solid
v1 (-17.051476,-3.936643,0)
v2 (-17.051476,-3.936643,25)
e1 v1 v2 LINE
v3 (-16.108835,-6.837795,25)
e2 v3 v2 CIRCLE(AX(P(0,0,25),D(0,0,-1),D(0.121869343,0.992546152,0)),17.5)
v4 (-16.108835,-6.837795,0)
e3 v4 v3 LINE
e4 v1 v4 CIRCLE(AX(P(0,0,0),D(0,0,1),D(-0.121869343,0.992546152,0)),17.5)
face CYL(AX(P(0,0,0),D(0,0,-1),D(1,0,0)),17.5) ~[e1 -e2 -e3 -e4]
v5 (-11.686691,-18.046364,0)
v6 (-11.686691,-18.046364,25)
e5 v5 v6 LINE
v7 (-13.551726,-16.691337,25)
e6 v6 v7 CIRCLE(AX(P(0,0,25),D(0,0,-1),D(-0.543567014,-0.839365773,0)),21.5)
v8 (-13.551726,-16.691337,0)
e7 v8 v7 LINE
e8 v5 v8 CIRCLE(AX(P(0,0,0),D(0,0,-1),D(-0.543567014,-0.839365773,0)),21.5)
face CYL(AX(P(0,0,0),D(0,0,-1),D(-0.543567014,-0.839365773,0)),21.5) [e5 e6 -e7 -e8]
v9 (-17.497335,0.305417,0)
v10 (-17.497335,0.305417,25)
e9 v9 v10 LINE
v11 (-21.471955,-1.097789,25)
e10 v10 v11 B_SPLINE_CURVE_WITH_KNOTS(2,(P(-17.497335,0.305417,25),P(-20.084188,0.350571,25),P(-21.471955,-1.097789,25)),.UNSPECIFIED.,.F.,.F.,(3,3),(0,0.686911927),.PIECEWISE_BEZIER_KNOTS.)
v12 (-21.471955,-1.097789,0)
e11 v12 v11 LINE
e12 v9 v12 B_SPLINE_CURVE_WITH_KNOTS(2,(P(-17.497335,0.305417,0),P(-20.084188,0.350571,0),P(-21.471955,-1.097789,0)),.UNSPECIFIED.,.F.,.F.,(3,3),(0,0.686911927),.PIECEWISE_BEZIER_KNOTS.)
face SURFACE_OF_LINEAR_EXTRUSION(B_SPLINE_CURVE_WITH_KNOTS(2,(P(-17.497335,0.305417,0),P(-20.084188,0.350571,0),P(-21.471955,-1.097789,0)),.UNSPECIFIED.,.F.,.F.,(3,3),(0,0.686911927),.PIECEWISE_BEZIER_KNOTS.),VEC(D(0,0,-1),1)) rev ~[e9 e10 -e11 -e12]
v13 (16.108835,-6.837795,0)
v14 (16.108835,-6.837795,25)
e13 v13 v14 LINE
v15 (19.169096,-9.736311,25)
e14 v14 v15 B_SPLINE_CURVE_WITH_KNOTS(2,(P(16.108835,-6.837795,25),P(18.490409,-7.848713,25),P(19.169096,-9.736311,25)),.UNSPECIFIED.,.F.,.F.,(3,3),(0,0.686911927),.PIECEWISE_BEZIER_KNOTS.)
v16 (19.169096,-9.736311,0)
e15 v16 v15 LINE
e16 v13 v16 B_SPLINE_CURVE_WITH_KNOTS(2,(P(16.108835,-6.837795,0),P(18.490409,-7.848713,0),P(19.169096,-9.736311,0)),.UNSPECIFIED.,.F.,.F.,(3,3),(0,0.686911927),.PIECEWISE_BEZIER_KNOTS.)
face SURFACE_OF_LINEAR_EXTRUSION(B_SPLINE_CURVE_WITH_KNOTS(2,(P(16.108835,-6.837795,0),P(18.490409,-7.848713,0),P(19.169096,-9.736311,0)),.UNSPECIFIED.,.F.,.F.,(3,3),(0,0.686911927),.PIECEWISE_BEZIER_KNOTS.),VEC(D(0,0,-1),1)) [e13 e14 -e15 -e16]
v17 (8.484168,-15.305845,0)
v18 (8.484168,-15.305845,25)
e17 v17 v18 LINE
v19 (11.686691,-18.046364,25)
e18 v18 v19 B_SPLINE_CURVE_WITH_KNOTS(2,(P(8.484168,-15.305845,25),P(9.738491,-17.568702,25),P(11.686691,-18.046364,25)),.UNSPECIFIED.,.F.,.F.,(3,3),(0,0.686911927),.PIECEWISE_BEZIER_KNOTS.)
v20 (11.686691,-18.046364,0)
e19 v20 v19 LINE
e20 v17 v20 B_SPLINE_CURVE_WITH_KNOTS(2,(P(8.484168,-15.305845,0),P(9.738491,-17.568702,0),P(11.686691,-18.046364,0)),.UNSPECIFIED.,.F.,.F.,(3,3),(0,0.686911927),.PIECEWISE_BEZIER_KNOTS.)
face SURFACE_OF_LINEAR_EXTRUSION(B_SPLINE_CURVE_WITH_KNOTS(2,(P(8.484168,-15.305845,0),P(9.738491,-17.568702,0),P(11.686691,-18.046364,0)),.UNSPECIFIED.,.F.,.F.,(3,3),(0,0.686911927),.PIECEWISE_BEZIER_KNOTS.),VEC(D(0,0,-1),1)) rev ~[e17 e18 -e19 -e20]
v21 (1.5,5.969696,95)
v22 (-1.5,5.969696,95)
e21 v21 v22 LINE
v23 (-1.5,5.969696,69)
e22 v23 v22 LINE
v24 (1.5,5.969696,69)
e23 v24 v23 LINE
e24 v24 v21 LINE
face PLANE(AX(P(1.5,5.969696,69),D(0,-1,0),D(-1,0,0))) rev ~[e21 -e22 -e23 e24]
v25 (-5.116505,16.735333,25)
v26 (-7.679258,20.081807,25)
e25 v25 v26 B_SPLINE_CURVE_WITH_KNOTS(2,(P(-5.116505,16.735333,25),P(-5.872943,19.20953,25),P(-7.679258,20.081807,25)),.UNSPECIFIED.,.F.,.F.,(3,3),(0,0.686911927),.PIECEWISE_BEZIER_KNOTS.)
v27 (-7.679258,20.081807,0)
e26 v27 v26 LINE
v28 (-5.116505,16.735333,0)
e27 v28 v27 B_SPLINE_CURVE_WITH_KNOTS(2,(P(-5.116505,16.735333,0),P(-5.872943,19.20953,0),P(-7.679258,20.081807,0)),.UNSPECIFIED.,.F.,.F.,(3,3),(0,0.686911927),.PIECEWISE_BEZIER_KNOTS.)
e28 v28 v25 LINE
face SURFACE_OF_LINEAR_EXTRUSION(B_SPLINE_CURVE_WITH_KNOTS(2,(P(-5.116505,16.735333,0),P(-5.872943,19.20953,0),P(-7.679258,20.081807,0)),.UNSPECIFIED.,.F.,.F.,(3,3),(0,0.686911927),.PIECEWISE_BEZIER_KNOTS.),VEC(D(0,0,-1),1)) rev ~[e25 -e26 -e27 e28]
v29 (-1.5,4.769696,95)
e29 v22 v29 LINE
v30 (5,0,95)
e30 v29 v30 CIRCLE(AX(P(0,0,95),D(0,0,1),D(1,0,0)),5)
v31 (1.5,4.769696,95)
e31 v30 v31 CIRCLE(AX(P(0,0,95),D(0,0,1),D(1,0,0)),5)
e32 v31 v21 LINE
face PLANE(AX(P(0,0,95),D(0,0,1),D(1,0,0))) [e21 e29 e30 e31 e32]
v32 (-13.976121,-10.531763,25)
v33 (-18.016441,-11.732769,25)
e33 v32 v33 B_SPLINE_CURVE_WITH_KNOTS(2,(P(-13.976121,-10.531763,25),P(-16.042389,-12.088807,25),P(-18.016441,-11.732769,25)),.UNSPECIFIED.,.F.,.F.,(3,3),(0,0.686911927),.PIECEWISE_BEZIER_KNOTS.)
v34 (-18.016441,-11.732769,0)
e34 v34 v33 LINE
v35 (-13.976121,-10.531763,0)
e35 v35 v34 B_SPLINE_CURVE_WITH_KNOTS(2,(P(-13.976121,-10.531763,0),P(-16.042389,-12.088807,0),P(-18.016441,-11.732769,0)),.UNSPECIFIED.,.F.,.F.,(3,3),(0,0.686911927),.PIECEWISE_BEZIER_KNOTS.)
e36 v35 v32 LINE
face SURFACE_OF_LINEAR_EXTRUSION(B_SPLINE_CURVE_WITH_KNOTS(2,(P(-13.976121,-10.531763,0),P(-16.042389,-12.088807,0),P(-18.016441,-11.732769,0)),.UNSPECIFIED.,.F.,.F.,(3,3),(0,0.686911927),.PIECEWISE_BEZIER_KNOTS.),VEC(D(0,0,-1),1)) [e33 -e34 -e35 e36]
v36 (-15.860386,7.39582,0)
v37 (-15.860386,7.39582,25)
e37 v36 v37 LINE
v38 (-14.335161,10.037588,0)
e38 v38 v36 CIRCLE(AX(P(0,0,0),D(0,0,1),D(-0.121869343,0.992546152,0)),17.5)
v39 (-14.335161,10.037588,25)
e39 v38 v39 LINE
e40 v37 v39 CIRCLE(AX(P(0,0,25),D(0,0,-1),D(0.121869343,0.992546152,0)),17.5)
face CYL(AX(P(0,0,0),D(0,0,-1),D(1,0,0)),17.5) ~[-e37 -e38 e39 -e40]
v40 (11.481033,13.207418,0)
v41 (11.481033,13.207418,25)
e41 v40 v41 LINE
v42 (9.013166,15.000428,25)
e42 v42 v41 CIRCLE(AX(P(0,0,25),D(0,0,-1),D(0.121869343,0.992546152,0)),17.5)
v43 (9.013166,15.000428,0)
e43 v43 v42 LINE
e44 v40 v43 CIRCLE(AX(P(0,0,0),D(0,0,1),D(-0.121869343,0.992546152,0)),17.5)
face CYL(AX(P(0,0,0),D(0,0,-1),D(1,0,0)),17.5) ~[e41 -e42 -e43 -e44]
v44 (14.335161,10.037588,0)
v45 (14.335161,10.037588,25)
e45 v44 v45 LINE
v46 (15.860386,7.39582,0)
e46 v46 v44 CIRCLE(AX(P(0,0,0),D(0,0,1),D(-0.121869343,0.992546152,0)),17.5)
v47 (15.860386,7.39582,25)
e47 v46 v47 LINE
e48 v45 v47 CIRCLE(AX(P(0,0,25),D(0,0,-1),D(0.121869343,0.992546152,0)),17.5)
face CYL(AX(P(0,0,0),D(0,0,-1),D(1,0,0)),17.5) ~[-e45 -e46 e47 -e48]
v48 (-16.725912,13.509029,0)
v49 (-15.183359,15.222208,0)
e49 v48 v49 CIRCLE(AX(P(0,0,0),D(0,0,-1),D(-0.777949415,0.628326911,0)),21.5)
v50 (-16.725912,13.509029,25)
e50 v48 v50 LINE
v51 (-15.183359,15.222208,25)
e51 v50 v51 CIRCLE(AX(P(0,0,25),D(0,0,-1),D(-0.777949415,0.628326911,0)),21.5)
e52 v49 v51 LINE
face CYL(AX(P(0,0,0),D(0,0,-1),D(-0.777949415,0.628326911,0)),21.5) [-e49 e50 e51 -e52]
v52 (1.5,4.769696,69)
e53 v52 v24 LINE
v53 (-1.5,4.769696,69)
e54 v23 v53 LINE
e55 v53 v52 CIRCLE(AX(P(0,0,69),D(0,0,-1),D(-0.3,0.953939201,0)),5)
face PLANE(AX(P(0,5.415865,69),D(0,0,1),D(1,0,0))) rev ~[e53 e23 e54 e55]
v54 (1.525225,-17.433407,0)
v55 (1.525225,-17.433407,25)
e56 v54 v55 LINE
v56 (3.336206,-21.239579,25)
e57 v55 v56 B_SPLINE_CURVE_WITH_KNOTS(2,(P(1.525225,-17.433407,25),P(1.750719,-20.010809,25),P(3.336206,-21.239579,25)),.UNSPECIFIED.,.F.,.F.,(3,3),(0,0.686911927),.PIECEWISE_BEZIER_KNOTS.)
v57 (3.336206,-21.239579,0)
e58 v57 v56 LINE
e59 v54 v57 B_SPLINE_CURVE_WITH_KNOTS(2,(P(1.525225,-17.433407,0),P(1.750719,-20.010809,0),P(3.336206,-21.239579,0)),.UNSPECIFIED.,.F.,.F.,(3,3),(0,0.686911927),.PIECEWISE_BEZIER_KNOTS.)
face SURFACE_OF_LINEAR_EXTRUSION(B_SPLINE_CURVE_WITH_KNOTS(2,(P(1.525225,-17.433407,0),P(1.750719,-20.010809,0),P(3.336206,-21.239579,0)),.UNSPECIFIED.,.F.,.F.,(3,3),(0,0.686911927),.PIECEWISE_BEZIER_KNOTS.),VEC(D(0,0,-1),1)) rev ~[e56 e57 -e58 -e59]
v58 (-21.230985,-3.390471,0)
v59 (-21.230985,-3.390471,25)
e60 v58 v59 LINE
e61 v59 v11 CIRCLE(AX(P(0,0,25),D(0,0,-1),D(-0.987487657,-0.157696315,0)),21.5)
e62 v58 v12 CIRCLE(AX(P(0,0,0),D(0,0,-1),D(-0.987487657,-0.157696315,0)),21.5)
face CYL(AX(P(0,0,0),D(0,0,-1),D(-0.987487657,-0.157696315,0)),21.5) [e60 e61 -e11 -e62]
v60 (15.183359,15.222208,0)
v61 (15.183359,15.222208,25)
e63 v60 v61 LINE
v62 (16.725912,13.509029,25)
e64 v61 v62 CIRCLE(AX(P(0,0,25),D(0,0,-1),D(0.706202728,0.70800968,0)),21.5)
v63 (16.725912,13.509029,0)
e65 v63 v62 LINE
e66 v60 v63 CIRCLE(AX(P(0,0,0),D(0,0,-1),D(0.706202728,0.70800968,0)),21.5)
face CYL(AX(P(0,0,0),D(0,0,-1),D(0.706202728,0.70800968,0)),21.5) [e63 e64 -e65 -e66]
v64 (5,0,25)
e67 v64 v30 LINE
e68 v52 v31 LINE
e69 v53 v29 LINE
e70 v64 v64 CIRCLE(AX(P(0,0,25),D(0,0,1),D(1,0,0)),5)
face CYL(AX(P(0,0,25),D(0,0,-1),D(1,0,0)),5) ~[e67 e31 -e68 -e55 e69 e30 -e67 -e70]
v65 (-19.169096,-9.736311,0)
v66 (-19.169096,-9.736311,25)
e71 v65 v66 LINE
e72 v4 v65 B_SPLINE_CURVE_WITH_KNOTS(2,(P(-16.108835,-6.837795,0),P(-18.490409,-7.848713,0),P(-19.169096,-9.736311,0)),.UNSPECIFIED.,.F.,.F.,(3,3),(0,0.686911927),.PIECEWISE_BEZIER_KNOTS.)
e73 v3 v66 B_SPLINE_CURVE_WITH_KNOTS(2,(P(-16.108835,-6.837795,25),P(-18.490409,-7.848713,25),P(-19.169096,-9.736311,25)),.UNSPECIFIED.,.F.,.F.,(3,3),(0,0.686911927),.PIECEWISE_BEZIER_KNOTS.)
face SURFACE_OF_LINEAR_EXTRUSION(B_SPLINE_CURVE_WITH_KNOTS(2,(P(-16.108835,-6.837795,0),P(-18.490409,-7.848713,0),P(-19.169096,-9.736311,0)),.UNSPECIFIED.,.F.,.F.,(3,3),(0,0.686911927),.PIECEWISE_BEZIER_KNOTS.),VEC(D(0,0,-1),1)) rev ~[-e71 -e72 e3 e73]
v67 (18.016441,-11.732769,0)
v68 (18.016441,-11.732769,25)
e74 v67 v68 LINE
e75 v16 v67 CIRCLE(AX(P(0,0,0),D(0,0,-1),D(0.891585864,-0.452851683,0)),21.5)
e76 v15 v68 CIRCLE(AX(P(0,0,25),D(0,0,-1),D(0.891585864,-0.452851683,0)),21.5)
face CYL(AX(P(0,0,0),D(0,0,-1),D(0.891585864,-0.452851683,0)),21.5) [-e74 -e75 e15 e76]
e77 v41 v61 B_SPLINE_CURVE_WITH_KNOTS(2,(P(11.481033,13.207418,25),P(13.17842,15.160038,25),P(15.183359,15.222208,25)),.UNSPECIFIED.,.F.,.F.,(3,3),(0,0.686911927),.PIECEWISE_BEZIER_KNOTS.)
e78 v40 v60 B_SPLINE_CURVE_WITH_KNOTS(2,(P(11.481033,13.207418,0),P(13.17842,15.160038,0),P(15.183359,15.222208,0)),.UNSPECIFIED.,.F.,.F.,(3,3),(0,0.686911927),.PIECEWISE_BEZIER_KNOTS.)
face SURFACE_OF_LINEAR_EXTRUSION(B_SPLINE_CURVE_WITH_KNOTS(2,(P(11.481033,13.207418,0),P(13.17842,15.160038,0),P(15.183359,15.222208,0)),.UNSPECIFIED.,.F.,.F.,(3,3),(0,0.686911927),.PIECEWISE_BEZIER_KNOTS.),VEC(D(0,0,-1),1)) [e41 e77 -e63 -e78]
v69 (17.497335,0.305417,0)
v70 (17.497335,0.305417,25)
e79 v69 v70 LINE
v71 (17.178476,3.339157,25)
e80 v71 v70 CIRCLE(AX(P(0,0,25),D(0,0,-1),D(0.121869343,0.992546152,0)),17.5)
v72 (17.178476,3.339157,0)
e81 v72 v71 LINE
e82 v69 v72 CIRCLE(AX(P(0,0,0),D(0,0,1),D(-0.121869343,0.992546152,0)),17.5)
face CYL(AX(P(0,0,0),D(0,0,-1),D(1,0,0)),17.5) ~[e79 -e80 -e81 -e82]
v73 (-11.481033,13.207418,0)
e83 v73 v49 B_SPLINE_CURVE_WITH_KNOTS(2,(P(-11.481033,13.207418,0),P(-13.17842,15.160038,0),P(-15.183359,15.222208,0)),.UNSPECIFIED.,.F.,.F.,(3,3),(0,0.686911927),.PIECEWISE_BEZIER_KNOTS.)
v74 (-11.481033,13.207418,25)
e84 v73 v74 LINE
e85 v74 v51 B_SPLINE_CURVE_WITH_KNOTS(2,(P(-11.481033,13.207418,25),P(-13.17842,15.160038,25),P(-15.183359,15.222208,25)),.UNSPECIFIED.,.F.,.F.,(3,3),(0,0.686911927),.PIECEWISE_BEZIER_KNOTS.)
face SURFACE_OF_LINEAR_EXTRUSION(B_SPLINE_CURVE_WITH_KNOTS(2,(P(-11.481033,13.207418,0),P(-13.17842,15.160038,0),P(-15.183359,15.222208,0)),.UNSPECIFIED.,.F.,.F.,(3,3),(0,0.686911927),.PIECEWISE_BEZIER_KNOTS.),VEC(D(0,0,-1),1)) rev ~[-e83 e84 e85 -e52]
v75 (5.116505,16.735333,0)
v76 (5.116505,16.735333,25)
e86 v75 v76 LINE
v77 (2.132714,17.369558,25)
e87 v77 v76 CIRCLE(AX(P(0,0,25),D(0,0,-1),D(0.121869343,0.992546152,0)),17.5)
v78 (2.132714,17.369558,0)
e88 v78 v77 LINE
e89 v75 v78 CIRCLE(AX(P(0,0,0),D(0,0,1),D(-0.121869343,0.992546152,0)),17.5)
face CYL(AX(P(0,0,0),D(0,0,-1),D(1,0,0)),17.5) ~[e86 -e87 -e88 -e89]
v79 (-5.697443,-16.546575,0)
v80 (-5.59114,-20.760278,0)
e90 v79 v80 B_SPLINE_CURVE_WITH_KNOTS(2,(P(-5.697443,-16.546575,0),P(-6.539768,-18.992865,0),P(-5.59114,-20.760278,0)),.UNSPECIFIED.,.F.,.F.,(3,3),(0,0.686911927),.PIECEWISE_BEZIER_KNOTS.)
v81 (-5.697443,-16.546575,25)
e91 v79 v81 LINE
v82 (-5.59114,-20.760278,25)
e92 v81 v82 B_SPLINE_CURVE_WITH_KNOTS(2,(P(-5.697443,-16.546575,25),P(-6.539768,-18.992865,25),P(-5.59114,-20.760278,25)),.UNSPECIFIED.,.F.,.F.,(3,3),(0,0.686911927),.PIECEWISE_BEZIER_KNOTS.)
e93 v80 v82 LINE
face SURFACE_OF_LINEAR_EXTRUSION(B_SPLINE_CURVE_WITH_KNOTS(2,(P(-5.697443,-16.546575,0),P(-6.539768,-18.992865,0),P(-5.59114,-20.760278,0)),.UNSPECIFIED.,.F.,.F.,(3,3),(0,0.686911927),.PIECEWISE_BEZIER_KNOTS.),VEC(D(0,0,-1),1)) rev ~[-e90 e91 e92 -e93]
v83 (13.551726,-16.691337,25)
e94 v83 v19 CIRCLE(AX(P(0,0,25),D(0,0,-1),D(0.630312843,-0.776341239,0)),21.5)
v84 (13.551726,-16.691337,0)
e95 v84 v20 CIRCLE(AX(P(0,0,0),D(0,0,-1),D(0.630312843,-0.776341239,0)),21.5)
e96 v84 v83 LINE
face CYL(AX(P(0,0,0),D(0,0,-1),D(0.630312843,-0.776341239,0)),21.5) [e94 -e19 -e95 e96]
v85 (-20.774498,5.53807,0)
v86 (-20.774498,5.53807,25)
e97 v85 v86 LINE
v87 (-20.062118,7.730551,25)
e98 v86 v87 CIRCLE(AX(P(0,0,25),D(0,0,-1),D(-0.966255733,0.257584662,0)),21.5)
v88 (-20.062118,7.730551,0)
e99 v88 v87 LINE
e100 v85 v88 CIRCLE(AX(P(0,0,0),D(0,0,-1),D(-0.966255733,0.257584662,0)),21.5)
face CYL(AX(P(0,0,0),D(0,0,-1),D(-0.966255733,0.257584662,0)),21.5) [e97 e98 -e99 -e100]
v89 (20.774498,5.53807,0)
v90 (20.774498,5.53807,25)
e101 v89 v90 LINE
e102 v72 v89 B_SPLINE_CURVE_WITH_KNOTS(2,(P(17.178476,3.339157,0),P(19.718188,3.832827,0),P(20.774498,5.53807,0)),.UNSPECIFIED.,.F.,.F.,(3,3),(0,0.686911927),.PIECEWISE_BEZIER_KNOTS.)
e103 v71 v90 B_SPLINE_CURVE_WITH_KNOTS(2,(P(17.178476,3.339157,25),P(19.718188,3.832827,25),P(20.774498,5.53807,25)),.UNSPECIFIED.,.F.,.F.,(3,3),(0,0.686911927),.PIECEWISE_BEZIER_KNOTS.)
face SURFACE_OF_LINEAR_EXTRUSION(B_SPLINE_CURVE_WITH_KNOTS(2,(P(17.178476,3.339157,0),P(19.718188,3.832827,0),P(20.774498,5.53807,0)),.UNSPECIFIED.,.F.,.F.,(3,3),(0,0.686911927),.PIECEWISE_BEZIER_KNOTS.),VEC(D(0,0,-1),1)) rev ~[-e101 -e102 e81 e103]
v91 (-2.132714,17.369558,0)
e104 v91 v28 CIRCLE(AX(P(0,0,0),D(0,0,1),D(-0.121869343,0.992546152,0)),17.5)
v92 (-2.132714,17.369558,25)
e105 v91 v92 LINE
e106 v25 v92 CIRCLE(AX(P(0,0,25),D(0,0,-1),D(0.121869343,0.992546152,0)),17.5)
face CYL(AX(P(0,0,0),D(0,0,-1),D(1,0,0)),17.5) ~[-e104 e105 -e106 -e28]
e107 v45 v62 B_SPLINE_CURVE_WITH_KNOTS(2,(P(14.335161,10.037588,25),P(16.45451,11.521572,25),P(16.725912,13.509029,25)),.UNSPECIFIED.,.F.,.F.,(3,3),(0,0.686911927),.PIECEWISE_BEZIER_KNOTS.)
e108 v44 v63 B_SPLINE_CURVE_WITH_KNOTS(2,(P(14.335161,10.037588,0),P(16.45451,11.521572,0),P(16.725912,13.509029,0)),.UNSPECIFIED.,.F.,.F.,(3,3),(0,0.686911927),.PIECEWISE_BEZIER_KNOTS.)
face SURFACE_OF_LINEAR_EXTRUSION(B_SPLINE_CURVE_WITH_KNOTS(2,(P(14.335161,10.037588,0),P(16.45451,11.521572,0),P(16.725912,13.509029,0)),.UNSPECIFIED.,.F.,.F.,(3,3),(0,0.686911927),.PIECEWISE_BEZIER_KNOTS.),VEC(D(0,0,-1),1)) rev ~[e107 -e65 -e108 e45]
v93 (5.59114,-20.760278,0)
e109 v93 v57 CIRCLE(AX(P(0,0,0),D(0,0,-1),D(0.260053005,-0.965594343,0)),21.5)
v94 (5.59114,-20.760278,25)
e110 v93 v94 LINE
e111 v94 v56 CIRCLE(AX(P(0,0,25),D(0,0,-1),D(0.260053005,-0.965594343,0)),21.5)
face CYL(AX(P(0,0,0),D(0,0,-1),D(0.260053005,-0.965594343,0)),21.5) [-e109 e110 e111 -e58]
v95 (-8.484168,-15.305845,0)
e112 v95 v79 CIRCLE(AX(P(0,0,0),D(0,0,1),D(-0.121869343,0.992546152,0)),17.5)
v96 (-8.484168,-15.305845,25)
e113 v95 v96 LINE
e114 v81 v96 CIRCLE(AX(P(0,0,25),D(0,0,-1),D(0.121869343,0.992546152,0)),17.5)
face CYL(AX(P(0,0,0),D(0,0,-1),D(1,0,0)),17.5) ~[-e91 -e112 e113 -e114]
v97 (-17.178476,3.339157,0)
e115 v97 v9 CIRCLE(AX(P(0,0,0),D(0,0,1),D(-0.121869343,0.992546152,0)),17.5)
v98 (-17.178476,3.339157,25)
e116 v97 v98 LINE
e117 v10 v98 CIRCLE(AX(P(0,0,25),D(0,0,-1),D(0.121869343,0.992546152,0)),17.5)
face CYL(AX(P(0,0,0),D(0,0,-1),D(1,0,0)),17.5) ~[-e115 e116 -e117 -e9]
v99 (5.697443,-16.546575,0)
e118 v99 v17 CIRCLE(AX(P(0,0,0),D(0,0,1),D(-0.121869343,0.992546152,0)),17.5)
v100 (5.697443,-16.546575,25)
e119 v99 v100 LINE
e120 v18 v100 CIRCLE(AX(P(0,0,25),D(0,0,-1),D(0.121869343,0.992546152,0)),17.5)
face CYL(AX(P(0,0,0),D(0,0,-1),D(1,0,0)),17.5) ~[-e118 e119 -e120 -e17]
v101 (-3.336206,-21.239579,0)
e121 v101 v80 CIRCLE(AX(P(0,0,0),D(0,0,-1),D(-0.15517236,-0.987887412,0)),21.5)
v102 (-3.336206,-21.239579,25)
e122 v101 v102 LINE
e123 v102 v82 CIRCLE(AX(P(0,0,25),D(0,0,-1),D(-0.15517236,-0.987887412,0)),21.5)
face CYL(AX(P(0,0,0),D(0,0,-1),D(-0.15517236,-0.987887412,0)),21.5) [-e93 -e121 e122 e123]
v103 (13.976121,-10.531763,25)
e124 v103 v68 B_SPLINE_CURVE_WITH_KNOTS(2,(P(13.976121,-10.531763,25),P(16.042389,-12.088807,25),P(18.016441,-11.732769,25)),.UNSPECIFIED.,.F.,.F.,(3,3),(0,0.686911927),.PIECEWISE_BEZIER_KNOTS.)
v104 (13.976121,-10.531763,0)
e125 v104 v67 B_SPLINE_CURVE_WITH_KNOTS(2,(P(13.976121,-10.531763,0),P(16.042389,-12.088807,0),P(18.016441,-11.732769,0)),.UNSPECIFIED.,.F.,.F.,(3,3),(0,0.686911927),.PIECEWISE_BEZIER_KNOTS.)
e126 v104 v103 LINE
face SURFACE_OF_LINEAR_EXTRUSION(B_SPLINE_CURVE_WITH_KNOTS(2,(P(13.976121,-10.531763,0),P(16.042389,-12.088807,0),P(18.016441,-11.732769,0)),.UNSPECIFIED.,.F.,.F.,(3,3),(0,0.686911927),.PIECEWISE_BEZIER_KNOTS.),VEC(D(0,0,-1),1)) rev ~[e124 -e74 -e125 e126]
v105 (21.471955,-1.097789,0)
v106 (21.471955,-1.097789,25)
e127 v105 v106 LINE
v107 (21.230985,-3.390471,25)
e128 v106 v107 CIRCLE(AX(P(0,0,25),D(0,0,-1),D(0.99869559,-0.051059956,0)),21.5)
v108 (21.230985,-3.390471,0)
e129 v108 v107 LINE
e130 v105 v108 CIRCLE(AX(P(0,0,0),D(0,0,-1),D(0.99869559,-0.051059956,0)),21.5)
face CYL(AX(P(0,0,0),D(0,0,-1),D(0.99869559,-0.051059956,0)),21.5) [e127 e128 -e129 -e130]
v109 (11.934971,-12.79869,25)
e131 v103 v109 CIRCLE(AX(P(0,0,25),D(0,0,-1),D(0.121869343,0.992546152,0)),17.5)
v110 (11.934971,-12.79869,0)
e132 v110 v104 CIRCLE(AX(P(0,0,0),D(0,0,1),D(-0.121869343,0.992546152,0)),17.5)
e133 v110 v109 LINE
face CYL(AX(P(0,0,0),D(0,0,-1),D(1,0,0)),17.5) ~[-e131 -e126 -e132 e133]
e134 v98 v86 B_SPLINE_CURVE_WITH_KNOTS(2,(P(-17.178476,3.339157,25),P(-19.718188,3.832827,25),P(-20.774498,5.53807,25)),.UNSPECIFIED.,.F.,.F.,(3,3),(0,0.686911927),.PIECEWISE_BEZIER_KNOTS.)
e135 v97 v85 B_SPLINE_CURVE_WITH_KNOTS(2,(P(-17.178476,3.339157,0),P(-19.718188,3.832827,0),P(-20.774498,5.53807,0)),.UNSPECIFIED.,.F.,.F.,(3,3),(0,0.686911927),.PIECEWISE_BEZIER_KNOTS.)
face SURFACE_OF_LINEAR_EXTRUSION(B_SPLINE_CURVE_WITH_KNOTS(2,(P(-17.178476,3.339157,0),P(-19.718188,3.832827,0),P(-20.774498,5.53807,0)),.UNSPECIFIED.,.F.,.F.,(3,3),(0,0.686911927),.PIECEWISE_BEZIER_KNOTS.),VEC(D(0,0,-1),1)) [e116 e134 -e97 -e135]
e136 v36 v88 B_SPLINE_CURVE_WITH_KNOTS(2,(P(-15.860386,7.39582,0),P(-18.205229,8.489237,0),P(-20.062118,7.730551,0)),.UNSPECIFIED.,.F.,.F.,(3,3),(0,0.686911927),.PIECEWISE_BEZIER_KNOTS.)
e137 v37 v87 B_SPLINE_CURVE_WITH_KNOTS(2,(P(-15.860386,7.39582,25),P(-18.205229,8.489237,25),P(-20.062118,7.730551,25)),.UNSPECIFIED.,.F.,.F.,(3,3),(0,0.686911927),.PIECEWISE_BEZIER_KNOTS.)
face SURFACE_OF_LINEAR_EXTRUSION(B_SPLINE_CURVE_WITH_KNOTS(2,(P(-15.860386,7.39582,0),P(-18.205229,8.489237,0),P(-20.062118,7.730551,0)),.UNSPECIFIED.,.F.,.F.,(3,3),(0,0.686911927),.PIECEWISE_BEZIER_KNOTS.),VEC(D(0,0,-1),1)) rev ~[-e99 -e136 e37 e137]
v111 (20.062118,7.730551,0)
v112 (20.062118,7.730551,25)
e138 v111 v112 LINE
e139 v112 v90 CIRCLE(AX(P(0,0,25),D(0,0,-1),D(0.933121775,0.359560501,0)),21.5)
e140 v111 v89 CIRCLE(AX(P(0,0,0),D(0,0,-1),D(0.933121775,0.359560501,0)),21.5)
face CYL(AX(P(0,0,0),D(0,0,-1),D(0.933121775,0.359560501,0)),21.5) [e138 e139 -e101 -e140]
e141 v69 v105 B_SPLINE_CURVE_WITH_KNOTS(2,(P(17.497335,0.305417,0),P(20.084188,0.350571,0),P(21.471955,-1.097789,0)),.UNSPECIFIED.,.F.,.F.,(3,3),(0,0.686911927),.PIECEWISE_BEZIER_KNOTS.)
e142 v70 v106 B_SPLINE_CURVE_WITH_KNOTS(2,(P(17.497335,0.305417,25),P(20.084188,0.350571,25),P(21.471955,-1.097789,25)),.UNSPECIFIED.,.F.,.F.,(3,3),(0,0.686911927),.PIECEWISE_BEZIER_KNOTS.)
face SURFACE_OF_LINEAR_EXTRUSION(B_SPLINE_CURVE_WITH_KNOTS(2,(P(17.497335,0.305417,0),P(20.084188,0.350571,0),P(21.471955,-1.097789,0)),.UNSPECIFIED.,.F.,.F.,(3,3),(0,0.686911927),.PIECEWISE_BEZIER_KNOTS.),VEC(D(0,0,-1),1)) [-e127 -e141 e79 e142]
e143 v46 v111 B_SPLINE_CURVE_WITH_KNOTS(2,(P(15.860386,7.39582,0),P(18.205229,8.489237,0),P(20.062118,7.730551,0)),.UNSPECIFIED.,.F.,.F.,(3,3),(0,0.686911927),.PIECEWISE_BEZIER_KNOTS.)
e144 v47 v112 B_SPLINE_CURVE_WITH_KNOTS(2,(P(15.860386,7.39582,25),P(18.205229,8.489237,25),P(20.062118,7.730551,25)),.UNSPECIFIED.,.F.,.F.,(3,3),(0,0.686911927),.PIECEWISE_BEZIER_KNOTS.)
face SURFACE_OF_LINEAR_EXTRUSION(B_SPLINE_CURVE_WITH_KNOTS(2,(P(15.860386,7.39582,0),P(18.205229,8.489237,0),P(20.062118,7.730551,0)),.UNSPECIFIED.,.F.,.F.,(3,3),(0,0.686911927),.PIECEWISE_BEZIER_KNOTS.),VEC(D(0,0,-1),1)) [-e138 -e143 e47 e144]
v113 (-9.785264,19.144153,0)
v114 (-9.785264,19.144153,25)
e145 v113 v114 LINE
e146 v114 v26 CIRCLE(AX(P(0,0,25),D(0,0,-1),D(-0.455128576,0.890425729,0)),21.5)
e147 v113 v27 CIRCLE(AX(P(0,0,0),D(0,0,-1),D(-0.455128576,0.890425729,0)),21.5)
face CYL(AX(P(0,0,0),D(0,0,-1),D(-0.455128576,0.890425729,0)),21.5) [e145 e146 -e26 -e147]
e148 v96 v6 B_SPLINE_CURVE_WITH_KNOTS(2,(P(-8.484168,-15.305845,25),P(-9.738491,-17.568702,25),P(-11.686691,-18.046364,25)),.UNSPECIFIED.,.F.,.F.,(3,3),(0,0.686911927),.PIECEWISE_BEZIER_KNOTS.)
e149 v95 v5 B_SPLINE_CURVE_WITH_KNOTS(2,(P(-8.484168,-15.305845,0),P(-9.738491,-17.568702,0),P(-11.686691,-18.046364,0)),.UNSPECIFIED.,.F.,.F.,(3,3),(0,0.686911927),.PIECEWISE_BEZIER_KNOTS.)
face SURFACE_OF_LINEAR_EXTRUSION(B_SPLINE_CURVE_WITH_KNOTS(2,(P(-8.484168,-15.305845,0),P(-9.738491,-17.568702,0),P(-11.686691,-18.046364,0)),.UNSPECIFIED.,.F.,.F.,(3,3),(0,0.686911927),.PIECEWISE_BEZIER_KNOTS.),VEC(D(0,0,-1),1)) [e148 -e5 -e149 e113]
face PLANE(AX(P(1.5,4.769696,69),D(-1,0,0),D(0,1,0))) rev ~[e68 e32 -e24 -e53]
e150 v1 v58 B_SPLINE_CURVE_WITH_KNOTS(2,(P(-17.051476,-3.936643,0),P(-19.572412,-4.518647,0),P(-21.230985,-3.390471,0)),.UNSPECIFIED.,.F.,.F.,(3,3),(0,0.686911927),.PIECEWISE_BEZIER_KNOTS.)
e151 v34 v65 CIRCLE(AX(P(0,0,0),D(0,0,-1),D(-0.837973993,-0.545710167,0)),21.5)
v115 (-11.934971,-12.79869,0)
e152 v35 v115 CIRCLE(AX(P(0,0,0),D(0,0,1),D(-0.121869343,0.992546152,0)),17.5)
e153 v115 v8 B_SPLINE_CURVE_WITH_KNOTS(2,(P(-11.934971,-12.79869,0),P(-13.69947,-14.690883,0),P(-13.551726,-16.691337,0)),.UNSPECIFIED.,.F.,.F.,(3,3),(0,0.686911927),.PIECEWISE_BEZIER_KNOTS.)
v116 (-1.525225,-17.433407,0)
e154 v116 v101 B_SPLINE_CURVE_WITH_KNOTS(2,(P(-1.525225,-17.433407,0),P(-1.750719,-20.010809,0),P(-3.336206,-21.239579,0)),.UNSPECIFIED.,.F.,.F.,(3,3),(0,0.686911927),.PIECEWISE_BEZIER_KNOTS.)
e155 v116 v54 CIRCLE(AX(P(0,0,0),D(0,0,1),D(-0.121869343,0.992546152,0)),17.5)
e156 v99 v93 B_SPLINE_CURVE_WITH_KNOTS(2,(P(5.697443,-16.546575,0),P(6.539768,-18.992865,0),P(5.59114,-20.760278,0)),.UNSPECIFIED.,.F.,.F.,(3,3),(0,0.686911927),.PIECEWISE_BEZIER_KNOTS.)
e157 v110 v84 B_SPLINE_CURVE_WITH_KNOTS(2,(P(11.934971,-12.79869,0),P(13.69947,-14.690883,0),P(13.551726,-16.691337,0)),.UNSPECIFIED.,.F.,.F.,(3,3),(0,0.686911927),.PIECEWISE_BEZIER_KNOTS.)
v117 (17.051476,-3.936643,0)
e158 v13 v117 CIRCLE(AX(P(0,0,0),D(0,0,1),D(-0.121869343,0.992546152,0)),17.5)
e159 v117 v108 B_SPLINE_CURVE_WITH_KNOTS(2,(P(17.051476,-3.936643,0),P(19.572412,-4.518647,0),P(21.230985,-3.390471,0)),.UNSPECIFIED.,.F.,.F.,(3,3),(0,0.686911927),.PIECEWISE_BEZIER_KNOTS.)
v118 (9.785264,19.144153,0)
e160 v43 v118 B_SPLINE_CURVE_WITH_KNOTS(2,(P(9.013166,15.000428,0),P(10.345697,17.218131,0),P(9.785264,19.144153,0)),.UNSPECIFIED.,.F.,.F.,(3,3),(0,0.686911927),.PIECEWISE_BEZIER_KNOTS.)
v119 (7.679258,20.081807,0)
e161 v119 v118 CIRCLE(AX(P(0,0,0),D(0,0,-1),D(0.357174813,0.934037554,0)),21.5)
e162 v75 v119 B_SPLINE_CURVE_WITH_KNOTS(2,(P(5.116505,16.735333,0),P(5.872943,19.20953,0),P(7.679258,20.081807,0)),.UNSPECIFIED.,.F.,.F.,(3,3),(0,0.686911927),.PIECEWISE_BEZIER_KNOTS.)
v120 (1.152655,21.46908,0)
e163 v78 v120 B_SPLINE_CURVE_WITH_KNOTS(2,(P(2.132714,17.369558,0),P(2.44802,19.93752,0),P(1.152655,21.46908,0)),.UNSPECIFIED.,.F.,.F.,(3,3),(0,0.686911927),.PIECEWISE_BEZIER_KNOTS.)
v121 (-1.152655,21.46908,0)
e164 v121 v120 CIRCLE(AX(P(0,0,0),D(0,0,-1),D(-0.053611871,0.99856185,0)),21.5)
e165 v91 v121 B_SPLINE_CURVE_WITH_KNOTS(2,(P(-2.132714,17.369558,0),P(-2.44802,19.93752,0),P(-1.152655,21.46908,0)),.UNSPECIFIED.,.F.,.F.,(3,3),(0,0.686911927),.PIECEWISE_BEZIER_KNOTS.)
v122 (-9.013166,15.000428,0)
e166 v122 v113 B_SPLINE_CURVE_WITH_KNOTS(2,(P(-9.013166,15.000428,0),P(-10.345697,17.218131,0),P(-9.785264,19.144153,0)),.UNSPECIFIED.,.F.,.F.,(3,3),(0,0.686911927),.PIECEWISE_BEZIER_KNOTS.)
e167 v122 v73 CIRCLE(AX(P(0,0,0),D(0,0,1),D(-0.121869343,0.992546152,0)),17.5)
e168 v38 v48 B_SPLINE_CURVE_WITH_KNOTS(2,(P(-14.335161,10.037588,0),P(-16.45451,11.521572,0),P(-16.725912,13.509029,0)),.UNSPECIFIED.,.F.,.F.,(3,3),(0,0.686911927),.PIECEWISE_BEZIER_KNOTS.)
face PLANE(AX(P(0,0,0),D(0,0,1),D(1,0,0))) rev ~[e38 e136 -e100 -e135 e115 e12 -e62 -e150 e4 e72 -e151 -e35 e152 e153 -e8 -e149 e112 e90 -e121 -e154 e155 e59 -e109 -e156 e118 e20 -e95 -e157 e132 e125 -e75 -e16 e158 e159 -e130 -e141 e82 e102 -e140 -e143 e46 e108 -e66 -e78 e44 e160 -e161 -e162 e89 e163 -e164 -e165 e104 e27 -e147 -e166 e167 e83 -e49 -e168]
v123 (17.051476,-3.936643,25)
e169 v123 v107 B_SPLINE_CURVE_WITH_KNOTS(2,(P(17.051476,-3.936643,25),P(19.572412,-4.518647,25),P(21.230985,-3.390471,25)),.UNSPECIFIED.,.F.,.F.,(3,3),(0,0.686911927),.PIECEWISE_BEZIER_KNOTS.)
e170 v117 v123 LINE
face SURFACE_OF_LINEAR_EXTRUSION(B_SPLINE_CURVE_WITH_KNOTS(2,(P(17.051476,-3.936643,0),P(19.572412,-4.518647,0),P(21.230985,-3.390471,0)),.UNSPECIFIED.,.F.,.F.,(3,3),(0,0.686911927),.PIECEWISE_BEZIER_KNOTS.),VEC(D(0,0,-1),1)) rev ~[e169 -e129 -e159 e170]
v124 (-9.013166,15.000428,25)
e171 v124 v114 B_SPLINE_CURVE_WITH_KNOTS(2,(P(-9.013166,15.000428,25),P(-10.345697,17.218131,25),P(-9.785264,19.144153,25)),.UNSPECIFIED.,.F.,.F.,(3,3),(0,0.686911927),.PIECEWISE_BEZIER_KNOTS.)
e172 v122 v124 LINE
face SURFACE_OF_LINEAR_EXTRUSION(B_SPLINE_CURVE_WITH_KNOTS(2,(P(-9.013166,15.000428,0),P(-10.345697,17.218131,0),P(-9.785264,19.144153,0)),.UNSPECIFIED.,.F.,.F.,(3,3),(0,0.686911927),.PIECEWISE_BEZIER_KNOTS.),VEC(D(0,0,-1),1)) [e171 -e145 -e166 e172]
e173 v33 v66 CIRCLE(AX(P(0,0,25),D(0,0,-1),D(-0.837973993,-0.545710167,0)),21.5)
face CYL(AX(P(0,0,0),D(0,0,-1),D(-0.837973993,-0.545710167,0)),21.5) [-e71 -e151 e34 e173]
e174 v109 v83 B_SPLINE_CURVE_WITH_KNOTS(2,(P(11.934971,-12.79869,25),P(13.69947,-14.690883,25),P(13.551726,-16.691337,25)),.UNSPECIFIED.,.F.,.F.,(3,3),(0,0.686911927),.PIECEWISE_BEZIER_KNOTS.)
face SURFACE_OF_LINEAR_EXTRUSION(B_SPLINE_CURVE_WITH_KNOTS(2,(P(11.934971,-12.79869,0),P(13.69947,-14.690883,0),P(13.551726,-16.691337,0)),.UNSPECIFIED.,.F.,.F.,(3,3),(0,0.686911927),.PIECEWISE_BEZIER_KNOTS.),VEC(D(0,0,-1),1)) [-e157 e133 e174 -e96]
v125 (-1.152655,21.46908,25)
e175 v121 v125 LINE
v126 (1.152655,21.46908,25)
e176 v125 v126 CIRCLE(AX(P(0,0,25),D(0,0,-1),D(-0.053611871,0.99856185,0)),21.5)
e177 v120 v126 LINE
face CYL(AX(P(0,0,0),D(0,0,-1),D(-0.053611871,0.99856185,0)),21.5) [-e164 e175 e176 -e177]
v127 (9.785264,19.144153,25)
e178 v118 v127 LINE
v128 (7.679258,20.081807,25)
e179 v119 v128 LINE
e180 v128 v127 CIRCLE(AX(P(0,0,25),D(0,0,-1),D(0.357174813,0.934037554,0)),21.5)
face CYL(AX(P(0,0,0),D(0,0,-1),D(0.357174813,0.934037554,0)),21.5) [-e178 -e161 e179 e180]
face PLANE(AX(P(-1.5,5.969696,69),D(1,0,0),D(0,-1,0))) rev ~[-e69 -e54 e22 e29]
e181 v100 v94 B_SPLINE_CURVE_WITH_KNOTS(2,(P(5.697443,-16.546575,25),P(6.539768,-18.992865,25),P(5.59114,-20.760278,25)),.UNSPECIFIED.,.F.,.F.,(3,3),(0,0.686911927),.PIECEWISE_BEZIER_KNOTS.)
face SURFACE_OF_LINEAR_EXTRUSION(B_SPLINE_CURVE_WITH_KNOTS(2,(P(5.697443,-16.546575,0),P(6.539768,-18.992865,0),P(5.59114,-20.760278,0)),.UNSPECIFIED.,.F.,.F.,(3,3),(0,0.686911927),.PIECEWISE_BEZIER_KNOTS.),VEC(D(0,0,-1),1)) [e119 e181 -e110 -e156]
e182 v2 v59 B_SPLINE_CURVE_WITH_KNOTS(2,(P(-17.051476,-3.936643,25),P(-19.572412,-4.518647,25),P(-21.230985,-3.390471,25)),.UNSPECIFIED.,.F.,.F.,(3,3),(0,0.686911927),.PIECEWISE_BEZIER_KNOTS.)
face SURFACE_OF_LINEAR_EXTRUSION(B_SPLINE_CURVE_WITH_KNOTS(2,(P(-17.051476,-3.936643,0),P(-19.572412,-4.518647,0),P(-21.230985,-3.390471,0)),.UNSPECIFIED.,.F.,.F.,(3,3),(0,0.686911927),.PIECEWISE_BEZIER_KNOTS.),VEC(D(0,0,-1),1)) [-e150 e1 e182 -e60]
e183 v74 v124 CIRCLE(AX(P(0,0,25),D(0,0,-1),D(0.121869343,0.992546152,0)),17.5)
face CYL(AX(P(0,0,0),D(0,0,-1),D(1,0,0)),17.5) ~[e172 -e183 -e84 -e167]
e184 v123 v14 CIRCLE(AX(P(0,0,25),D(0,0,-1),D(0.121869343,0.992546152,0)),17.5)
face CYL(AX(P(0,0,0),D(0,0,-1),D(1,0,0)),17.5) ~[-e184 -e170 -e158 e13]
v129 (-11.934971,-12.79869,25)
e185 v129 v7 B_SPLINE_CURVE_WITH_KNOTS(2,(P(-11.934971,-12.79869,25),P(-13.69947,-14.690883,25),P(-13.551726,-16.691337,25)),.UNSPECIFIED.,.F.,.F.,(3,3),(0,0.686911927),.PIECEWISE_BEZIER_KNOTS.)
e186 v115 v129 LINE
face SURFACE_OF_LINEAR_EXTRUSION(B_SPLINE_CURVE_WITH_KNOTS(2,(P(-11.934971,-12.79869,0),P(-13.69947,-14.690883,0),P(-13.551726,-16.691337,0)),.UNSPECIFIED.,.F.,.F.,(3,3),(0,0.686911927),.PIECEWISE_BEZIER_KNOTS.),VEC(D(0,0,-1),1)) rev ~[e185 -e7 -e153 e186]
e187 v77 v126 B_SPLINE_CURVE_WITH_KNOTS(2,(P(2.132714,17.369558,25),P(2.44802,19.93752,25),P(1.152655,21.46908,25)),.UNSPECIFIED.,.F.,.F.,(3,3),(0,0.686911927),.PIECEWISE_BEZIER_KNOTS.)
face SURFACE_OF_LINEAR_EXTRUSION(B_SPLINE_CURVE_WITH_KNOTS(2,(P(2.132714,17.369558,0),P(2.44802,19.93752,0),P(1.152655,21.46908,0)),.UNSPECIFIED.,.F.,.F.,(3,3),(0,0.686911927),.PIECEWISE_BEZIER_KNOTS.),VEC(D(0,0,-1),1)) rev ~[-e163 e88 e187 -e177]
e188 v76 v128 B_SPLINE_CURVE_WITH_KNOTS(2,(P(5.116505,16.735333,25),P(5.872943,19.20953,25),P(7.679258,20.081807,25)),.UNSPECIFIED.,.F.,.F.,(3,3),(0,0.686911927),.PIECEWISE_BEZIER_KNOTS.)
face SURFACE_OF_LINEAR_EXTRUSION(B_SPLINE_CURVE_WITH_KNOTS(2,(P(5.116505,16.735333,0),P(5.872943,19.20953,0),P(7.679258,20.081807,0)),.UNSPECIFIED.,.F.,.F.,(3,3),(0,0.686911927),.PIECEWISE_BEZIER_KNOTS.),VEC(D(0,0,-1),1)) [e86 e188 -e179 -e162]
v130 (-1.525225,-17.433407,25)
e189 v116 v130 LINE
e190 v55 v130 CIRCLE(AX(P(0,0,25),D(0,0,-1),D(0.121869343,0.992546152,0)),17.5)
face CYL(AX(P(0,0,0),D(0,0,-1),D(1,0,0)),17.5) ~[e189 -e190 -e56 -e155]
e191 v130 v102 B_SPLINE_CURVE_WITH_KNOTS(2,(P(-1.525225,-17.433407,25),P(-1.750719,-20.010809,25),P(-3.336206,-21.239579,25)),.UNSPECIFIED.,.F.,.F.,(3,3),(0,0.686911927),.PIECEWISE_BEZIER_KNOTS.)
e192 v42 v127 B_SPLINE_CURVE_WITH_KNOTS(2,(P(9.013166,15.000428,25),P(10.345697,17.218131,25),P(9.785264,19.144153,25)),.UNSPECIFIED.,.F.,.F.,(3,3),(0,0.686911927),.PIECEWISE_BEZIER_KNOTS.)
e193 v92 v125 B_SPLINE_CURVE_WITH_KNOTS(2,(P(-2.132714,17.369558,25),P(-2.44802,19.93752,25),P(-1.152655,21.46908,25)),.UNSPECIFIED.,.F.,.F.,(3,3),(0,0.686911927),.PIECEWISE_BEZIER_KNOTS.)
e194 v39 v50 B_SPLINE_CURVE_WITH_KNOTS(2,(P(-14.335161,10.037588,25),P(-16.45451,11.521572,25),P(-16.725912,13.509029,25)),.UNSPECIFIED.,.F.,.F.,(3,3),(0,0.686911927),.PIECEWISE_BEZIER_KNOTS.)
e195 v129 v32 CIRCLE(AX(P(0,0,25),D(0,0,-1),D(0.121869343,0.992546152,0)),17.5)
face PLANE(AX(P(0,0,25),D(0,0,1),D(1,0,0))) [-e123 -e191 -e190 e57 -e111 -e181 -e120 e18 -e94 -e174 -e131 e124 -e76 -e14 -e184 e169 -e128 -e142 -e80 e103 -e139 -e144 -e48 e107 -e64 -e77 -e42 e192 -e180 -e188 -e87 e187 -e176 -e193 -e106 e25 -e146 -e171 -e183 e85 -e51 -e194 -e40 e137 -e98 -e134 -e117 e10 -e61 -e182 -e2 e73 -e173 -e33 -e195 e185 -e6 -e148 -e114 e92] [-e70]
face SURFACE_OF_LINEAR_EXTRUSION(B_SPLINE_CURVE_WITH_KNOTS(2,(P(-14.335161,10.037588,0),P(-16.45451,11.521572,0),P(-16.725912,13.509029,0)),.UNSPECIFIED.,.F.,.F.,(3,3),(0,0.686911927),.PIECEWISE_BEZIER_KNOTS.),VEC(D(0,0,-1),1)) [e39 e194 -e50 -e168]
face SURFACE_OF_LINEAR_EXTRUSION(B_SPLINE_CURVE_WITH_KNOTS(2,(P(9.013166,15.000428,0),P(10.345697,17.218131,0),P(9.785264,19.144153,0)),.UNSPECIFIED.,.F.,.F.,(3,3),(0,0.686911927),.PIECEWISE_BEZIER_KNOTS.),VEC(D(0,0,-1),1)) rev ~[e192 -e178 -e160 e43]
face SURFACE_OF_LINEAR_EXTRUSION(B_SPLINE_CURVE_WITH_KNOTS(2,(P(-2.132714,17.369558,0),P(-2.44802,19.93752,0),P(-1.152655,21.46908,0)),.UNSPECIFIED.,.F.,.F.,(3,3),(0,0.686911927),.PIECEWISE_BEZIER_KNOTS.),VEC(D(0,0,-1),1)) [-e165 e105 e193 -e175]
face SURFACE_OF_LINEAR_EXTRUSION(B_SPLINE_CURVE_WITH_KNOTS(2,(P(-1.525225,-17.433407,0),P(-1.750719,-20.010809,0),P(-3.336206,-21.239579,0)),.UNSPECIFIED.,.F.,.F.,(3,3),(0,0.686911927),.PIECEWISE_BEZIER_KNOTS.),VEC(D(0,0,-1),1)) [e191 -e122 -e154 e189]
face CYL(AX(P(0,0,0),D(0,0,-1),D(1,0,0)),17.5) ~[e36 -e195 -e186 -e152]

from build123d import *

# Parameters (mm, degrees)
SKETCH_2_R               = 17.5
EXTRUDE_2_DEPTH          = 25
EXTRUDE_3_DEPTH          = 25
PATTERN_CIRCULAR_1_COUNT = 15
SKETCH_3_R               = 5
EXTRUDE_4_DEPTH          = 70
EXTRUDE_START            = -26
EXTRUDE_5_DEPTH          = 26


with BuildPart() as part:
    # 草图2 → 凸台-拉伸2 (new body)
    with BuildSketch(Plane.XY):
        Circle(SKETCH_2_R)
    extrude(amount=EXTRUDE_2_DEPTH)

    # 草图4 → 凸台-拉伸3 (add)
    with BuildSketch(Plane(origin=(0, 0, 0), x_dir=(-1, 0, 0), z_dir=(0, 0, -1))):
        with BuildLine():
            ThreePointArc((1.152655242, 21.469079764), (0, 21.5), (-1.152655242, 21.469079764))
            add(Edge.make_bspline(
                [(-2.13271351, 17.369557654), (-2.448019627, 19.937519908), (-1.152655242, 21.469079764)],
                knots=[0, 0, 0, 0.686911927, 0.686911927, 0.686911927], degree=2))
            ThreePointArc((-2.13271351, 17.369557654), (0, 17.5), (2.13271351, 17.369557654))
            add(Edge.make_bspline(
                [(2.13271351, 17.369557654), (2.448019627, 19.937519908), (1.152655242, 21.469079764)],
                knots=[0, 0, 0, 0.686911927, 0.686911927, 0.686911927], degree=2))
        make_face()
    extrude_3 = extrude(amount=-EXTRUDE_3_DEPTH)

    # 阵列(圆周)1: 凸台-拉伸3 ×15 about axis
    pattern_circular_1_axis = Axis((0, 0, 0), (0, 0, 1))
    for i in range(1, PATTERN_CIRCULAR_1_COUNT):
        add(extrude_3.rotate(pattern_circular_1_axis, i * 360 / PATTERN_CIRCULAR_1_COUNT))

    # 草图3 → 凸台-拉伸4 (add)
    with BuildSketch(Plane.XY.offset(25)):
        Circle(SKETCH_3_R)
    extrude(amount=EXTRUDE_4_DEPTH)

    # 草图7 → 凸台-拉伸5 (add)
    with BuildSketch(Plane.XY.offset(95).offset(EXTRUDE_START)):
        with BuildLine():
            Line((1.5, 4.769696007), (1.5, 5.969696007))
            Line((1.5, 5.969696007), (-1.5, 5.969696007))
            Line((-1.5, 5.969696007), (-1.5, 4.769696007))
            ThreePointArc((-1.5, 4.769696007), (0, 5), (1.5, 4.769696007))
        make_face()
    extrude(amount=EXTRUDE_5_DEPTH)


solid = part.part
